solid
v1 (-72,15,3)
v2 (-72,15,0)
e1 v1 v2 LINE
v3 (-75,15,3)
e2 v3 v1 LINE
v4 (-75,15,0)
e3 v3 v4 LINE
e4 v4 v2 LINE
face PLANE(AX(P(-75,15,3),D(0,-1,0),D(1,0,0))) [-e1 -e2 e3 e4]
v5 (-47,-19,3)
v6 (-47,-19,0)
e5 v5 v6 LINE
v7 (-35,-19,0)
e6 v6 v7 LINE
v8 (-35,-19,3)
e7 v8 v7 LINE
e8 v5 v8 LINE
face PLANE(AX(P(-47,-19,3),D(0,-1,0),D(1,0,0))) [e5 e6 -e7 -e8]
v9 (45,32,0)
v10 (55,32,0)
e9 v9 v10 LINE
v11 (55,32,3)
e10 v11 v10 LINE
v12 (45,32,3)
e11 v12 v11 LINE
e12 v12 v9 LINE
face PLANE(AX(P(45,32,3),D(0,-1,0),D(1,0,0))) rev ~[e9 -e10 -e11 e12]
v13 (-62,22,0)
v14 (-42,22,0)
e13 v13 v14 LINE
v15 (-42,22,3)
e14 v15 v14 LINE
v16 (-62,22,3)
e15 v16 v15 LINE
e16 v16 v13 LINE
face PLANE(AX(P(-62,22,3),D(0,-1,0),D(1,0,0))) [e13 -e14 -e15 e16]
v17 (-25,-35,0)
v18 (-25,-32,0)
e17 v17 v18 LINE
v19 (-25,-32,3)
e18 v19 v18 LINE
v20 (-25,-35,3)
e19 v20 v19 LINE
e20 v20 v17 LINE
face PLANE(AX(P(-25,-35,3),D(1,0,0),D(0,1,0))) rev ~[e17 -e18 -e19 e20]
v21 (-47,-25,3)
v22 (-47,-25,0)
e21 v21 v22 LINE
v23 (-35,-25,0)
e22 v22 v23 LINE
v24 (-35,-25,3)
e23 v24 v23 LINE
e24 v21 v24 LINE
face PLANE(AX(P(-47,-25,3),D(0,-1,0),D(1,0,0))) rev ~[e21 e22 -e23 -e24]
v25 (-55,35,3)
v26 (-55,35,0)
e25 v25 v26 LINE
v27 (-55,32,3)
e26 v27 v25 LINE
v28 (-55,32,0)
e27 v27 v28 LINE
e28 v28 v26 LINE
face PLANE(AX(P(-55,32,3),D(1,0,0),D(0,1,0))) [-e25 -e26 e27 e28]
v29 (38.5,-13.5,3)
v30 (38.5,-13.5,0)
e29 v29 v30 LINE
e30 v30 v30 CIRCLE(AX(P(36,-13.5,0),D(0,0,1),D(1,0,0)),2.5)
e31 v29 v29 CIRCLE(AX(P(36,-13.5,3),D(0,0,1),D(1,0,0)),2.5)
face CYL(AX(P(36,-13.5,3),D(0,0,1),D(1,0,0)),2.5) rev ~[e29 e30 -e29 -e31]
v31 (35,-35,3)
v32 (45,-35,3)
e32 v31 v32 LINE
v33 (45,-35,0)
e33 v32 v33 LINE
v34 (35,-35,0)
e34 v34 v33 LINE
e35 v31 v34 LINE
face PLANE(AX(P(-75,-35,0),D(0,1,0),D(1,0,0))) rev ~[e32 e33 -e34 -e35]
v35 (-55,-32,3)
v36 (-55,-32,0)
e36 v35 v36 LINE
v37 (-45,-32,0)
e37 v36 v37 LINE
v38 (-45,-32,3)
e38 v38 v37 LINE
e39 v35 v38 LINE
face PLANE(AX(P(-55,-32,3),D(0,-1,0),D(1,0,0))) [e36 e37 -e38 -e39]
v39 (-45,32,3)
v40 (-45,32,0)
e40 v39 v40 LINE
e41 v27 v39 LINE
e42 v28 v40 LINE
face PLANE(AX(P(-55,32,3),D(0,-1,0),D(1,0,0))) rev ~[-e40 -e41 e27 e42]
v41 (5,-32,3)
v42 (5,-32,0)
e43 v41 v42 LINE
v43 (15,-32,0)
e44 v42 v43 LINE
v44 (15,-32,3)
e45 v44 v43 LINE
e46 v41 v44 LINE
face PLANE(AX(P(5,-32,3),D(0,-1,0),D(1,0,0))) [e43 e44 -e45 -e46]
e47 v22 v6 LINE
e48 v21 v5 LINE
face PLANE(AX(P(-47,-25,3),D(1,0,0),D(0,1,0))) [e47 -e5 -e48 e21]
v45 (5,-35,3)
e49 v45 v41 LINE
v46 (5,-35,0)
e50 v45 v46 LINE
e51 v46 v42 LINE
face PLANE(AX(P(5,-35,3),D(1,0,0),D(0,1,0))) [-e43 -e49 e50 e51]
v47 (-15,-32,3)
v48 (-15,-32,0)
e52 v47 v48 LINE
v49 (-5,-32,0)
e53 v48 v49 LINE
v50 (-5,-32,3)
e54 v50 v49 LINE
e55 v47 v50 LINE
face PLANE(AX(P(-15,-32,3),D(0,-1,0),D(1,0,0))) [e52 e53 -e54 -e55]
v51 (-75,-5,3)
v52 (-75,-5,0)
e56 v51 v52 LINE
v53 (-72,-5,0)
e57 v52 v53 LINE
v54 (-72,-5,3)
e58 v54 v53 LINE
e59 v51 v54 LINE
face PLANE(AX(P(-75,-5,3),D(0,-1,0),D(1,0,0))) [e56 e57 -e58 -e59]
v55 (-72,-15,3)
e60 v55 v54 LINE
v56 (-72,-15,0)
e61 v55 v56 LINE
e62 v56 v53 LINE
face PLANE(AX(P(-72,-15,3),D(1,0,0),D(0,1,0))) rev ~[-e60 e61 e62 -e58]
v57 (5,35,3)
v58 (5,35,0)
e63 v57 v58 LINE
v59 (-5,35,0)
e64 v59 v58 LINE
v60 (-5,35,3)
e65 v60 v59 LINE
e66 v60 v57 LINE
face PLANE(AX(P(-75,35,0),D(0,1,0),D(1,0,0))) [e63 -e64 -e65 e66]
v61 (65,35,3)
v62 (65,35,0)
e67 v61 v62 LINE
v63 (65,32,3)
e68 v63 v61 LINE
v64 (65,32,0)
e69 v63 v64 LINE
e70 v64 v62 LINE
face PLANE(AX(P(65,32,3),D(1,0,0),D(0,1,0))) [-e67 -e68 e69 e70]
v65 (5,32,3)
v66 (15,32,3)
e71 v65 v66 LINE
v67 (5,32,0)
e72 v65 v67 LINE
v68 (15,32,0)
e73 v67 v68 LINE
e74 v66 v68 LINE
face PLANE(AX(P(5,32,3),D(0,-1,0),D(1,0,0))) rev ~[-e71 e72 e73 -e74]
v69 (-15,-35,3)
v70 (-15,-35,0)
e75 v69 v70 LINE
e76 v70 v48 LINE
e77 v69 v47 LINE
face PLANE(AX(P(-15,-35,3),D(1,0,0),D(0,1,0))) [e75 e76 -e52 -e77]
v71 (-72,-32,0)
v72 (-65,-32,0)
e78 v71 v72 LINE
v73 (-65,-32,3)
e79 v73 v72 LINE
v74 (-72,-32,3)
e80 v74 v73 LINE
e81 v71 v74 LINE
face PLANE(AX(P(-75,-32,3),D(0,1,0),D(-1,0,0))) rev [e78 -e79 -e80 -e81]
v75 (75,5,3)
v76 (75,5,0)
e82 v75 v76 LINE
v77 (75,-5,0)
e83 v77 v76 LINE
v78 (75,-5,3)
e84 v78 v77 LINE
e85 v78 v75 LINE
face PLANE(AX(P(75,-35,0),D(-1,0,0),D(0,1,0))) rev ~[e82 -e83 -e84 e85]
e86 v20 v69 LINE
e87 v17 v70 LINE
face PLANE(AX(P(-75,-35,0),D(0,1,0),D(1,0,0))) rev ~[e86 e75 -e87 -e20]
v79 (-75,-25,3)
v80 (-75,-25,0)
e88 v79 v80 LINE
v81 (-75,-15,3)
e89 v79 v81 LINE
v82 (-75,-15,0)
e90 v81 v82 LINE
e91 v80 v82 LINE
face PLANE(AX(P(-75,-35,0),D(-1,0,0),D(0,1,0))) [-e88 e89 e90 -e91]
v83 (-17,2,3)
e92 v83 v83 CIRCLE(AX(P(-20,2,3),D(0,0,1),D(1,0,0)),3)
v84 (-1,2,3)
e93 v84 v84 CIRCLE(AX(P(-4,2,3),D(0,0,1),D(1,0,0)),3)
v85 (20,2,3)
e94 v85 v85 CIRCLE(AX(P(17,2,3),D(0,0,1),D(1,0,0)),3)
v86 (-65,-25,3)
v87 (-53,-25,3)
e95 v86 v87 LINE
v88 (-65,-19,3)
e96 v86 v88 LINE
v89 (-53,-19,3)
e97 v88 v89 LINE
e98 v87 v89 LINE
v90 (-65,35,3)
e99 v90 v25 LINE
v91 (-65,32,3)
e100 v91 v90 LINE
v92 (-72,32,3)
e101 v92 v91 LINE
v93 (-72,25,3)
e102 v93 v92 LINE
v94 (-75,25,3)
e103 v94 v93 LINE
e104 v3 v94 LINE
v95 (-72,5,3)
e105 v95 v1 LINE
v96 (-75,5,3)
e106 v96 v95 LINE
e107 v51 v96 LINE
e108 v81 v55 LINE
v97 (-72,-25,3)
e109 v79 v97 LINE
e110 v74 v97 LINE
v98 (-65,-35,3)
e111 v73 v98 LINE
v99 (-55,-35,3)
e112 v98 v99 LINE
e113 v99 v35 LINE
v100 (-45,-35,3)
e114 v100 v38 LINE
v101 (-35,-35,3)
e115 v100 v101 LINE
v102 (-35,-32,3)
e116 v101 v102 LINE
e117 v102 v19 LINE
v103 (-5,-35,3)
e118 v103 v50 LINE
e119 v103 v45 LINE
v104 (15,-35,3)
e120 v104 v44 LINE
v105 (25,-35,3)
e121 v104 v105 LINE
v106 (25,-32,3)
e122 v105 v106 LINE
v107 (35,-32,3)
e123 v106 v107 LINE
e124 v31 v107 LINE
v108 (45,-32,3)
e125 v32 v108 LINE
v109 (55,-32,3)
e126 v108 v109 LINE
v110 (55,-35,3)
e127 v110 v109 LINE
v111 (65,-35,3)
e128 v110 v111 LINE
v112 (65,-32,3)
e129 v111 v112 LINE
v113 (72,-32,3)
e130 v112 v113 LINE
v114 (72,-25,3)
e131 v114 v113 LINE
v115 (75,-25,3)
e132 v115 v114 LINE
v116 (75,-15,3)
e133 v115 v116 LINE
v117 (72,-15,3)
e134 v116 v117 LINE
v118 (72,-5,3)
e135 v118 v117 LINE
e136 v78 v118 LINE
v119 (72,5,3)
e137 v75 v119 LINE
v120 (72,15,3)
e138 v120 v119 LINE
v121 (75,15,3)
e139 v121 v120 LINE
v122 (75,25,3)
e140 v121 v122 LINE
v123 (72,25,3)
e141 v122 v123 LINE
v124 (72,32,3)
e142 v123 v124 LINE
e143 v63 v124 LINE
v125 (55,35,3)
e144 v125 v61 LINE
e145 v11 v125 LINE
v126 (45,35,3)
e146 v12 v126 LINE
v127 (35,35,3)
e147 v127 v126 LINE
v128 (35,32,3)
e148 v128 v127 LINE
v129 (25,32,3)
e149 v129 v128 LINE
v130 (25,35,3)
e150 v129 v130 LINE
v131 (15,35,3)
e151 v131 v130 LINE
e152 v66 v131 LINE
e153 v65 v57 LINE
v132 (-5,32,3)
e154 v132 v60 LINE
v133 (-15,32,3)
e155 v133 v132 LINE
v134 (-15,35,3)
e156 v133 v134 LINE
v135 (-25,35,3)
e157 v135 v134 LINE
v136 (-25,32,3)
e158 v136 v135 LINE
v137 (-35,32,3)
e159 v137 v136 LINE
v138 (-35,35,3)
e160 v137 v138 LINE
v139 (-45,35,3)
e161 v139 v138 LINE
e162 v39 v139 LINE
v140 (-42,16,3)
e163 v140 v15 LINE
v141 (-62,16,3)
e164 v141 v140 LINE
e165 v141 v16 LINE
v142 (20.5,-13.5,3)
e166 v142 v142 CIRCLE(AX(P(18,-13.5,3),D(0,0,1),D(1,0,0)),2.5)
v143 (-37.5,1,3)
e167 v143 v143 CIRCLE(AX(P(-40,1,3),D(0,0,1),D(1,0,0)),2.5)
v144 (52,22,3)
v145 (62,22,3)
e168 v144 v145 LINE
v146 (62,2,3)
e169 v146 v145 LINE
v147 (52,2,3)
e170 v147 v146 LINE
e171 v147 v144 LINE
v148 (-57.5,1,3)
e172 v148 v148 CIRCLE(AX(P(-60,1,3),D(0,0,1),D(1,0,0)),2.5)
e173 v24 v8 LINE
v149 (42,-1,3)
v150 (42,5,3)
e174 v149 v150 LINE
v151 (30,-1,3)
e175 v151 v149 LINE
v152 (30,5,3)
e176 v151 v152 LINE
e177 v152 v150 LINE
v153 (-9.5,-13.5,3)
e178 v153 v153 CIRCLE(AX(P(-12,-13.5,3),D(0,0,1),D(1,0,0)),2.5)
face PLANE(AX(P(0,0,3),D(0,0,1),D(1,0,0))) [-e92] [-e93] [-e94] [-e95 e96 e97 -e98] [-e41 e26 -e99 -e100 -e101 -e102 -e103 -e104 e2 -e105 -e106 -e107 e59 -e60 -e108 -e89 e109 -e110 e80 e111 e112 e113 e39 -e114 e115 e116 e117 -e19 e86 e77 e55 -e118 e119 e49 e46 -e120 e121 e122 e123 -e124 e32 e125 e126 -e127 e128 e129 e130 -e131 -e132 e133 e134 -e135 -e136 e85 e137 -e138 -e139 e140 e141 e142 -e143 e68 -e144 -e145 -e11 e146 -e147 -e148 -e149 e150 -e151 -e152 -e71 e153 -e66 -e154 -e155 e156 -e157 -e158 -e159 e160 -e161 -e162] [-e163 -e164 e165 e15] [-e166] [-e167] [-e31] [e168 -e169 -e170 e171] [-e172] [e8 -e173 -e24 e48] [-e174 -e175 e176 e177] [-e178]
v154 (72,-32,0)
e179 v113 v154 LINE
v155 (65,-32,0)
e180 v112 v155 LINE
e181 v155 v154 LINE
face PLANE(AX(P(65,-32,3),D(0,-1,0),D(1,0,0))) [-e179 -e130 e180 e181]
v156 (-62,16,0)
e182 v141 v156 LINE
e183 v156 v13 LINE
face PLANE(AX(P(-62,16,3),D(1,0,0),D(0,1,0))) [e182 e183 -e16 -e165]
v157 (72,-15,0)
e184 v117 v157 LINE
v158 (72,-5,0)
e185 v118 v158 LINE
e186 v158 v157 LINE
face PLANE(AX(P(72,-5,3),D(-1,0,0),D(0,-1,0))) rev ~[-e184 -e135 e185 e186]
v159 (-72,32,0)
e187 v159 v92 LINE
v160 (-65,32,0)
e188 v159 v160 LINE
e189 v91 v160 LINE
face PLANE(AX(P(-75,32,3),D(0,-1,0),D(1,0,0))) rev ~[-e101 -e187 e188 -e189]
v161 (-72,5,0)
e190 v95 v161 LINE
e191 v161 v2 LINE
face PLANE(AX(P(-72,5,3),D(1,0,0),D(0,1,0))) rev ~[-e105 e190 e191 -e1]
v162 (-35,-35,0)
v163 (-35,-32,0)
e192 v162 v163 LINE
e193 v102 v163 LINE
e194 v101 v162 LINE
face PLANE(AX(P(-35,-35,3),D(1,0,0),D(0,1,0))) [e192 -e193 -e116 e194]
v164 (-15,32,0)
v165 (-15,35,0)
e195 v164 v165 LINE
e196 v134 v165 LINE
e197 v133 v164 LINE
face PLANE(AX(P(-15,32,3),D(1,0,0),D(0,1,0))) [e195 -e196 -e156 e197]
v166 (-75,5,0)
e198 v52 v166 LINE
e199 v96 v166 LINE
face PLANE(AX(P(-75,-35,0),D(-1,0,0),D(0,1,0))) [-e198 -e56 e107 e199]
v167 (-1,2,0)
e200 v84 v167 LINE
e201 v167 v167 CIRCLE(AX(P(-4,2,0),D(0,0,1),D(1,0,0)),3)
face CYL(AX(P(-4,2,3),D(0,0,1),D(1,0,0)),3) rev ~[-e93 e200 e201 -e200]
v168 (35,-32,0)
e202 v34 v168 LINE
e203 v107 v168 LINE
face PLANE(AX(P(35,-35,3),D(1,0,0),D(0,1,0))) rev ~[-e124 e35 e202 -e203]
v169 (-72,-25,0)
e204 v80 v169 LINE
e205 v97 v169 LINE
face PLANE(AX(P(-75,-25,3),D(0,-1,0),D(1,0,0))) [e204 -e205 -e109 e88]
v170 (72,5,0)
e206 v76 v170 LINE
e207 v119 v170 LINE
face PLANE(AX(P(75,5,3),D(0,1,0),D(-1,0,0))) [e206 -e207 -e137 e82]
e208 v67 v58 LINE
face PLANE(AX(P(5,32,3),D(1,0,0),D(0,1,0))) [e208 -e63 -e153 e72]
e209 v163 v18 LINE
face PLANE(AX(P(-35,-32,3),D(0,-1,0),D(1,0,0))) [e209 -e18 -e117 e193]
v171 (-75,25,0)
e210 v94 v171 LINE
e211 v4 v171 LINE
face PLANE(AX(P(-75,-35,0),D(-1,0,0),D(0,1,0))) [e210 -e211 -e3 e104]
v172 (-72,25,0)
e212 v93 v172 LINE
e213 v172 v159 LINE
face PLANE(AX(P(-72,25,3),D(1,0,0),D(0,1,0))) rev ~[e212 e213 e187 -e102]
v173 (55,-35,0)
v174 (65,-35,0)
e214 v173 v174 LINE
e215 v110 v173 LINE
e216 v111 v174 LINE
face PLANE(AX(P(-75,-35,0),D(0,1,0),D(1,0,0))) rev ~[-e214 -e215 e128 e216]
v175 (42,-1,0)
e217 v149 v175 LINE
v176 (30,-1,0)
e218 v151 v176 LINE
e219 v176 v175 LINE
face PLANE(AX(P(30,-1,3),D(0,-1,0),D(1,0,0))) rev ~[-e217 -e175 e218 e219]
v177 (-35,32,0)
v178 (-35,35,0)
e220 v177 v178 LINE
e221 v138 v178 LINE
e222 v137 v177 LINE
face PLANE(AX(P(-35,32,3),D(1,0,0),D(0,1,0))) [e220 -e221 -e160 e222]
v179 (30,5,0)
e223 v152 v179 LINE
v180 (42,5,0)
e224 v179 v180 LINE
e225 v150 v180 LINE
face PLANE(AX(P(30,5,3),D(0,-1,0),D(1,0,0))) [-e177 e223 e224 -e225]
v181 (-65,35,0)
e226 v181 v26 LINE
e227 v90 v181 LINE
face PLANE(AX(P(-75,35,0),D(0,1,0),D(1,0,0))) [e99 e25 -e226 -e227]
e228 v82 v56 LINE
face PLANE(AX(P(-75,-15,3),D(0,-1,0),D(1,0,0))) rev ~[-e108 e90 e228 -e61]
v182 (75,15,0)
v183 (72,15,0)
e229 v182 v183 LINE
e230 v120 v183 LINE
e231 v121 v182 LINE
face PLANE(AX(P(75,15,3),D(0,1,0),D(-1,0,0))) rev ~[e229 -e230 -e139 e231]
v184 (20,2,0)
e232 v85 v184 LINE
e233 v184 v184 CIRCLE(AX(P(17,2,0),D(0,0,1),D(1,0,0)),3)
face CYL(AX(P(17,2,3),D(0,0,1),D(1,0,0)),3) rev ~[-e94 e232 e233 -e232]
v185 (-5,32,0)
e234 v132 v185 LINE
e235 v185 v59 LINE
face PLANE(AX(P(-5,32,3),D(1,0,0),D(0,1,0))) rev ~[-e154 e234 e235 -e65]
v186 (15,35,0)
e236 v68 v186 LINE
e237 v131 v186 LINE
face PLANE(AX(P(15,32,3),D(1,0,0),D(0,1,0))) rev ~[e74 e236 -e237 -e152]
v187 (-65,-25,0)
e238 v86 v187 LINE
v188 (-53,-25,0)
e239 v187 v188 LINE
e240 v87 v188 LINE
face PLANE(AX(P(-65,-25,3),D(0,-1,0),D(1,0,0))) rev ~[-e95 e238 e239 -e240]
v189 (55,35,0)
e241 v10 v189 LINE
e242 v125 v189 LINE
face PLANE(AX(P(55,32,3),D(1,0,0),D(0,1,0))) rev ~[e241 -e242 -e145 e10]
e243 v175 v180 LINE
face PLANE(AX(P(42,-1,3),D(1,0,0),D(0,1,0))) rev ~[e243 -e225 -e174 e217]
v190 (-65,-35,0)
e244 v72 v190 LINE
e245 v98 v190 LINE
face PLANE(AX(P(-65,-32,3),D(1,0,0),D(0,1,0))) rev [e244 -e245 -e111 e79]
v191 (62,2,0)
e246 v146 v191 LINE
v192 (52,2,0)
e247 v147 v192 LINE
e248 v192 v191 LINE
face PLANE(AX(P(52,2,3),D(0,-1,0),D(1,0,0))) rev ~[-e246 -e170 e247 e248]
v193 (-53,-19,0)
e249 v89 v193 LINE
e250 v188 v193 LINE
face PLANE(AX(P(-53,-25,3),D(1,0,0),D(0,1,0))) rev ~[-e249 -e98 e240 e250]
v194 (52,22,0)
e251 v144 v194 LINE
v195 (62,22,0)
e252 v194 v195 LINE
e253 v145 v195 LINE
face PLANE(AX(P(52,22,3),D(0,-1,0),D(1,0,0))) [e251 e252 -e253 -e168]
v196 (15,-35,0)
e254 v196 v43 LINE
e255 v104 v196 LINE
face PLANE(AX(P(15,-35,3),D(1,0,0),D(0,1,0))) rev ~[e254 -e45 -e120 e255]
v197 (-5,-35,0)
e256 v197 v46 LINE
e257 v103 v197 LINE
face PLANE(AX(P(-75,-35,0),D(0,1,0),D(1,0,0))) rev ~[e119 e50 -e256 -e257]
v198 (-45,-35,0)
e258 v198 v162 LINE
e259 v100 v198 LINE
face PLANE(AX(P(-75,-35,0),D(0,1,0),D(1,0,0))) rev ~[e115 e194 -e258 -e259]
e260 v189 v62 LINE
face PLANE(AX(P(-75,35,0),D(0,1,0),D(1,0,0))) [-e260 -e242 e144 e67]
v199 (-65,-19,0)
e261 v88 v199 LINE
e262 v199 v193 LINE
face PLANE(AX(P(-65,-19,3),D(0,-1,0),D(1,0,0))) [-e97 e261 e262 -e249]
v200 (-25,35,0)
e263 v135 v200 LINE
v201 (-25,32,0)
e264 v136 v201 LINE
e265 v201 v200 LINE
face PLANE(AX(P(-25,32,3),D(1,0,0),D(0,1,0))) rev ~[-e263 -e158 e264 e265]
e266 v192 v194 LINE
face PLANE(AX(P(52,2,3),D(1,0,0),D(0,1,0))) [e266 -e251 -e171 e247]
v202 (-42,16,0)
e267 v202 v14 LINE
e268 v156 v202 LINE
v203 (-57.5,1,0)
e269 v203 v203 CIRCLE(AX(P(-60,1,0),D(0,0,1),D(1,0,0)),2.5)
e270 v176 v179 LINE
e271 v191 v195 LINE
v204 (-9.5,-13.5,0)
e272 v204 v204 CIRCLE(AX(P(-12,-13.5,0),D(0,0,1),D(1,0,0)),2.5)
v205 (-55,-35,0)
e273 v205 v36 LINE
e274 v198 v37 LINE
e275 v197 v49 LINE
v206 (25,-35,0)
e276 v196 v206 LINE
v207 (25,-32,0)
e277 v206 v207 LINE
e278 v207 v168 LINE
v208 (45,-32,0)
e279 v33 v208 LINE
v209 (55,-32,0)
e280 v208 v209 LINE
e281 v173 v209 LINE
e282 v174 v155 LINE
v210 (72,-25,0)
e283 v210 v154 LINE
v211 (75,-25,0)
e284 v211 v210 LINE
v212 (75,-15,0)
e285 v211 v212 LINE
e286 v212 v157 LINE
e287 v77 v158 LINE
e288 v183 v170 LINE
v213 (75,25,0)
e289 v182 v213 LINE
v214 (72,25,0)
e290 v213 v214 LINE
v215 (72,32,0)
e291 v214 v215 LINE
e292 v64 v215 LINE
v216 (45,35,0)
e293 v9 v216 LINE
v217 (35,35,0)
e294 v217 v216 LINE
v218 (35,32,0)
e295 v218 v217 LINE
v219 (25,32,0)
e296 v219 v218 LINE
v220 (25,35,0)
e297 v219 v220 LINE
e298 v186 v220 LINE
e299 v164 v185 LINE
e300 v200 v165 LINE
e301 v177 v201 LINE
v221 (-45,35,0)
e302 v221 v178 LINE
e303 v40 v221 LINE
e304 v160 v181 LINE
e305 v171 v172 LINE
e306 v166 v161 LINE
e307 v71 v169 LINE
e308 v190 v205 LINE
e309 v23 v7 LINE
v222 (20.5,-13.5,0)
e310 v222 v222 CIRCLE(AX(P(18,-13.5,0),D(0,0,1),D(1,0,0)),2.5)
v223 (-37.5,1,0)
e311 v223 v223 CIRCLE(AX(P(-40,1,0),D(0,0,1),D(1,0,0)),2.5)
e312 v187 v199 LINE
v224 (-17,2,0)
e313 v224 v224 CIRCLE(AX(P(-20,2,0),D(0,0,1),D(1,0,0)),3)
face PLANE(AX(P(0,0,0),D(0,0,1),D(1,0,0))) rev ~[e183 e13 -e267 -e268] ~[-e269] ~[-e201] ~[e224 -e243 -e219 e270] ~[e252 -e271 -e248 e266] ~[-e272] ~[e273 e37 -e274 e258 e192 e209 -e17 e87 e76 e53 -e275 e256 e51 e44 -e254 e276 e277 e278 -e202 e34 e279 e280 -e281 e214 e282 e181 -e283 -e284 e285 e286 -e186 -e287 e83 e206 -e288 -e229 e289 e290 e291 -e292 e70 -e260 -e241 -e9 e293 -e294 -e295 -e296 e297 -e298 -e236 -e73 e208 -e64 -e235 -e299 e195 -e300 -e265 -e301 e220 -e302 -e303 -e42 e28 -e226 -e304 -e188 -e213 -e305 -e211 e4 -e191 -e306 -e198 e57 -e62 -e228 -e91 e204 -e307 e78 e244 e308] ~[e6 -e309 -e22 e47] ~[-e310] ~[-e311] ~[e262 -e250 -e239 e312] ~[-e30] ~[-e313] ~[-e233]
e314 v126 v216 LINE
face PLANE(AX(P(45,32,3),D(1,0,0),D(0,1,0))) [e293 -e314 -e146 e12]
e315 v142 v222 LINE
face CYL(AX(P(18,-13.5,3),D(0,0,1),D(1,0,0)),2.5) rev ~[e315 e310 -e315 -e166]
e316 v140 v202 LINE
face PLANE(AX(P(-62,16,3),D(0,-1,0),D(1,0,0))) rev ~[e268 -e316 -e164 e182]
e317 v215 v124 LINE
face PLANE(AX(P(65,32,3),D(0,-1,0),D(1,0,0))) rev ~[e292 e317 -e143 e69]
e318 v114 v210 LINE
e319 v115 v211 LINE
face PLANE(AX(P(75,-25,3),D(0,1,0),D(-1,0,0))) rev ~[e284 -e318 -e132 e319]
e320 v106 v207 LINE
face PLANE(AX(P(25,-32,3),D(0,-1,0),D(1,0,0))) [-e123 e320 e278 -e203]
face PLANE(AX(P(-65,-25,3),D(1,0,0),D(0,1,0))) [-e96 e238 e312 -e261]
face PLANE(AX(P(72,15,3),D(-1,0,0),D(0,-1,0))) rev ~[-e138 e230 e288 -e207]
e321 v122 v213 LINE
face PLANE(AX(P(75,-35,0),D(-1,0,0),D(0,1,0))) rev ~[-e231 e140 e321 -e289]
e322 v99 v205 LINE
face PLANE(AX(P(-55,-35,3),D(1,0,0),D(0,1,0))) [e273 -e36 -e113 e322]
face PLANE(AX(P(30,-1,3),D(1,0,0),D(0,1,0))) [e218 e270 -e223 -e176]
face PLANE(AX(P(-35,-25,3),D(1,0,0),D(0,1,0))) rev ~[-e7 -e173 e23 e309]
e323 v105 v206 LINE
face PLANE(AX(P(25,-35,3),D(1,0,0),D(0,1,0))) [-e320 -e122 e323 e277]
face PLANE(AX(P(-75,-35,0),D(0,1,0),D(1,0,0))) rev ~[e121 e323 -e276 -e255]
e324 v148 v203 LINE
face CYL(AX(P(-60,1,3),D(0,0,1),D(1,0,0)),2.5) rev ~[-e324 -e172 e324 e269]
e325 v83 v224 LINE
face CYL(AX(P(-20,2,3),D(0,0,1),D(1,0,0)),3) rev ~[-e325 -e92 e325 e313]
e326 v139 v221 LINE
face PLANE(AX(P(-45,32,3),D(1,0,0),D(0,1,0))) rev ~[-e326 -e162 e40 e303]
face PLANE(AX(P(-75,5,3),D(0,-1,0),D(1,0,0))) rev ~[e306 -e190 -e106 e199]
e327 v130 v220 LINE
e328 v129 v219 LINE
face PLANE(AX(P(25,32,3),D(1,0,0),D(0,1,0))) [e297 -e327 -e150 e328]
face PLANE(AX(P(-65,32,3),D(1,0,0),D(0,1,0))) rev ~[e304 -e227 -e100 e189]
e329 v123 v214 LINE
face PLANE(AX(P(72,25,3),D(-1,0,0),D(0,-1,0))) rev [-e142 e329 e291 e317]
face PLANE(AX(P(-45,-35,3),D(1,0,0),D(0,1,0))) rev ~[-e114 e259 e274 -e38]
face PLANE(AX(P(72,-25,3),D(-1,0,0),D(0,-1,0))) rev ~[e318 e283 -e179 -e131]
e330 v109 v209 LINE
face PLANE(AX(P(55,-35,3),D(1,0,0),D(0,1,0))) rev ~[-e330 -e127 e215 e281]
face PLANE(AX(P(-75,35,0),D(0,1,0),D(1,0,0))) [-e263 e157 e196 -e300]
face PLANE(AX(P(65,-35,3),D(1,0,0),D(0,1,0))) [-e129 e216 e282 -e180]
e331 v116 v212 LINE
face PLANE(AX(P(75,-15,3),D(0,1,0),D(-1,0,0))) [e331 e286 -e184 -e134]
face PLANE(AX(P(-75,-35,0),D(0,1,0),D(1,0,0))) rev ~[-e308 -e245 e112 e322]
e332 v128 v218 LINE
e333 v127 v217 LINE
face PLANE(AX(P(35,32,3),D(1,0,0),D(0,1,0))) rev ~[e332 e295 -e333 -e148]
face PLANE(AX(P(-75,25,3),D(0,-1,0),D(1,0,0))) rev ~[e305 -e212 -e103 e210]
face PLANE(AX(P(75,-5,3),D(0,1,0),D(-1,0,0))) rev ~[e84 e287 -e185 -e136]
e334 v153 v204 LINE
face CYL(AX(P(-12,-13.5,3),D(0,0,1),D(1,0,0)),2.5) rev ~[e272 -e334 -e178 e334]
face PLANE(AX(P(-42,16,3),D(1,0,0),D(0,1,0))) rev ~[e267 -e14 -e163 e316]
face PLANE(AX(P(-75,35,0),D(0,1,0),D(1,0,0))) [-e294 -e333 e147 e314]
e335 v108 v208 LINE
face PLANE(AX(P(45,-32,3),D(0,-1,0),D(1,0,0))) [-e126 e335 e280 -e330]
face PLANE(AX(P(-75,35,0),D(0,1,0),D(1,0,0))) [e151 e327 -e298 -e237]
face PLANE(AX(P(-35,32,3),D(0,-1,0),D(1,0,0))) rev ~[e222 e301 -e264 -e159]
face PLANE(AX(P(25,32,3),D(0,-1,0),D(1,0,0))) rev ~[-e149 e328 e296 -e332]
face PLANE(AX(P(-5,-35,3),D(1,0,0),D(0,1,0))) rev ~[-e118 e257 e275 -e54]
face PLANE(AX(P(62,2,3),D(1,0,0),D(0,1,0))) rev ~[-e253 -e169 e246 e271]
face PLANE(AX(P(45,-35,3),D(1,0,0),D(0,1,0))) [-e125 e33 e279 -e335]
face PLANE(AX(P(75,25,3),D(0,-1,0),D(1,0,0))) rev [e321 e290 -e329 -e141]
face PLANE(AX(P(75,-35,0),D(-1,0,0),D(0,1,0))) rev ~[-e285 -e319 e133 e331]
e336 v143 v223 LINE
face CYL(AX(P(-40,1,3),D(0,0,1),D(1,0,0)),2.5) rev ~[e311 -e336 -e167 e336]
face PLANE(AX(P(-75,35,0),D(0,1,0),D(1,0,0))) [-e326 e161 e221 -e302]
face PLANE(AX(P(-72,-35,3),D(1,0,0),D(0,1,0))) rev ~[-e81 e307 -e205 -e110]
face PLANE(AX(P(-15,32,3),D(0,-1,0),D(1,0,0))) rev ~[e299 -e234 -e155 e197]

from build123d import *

# Parameters (mm, degrees)
SKETCH1_W               = 150
SKETCH1_H               = 70
BOSS_EXTRUDE1_DEPTH     = 3
SKETCH2_W               = 10
SKETCH2_H               = 3
CUT_EXTRUDE1_DEPTH      = 3
LPATTERN3_COUNT         = 8
LPATTERN3_PITCH         = 20
MIRROR1_COPY_1_SKETCH_W = 10
MIRROR1_COPY_1_SKETCH_H = 3
MIRROR1_COPY_1_DEPTH    = 3
MIRROR1_COPY_2_SKETCH_W = 10
MIRROR1_COPY_2_SKETCH_H = 3
MIRROR1_COPY_2_DEPTH    = 3
MIRROR1_COPY_3_SKETCH_W = 10
MIRROR1_COPY_3_SKETCH_H = 3
MIRROR1_COPY_3_DEPTH    = 3
MIRROR1_COPY_4_SKETCH_W = 10
MIRROR1_COPY_4_SKETCH_H = 3
MIRROR1_COPY_4_DEPTH    = 3
MIRROR1_COPY_5_SKETCH_W = 10
MIRROR1_COPY_5_SKETCH_H = 3
MIRROR1_COPY_5_DEPTH    = 3
MIRROR1_COPY_6_SKETCH_W = 10
MIRROR1_COPY_6_SKETCH_H = 3
MIRROR1_COPY_6_DEPTH    = 3
MIRROR1_COPY_7_SKETCH_W = 10
MIRROR1_COPY_7_SKETCH_H = 3
MIRROR1_COPY_7_DEPTH    = 3
SKETCH3_W               = 3
SKETCH3_H               = 10
CUT_EXTRUDE2_DEPTH      = 3
LPATTERN4_COUNT         = 4
LPATTERN4_PITCH         = 20
MIRROR2_COPY_1_SKETCH_W = 3
MIRROR2_COPY_1_SKETCH_H = 10
MIRROR2_COPY_1_DEPTH    = 3
MIRROR2_COPY_2_SKETCH_W = 3
MIRROR2_COPY_2_SKETCH_H = 10
MIRROR2_COPY_2_DEPTH    = 3
MIRROR2_COPY_3_SKETCH_W = 3
MIRROR2_COPY_3_SKETCH_H = 10
MIRROR2_COPY_3_DEPTH    = 3
SKETCH4_W               = 20
SKETCH4_H               = 6
CUT_EXTRUDE3_DEPTH      = 3
SKETCH5_R               = 2.5
CUT_EXTRUDE5_DEPTH      = 3
SKETCH6_W               = 12
SKETCH6_H               = 6
CUT_EXTRUDE6_DEPTH      = 3
SKETCH7_R               = 3
CUT_EXTRUDE7_DEPTH      = 3
SKETCH8_R               = 2.5
CUT_EXTRUDE8_DEPTH      = 3
SKETCH9_R               = 3
CUT_EXTRUDE9_DEPTH      = 3
SKETCH10_W              = 12
SKETCH10_H              = 6
CUT_EXTRUDE10_DEPTH     = 3
SKETCH11_R              = 2.5
CUT_EXTRUDE11_DEPTH     = 3
SKETCH12_W              = 10
SKETCH12_H              = 20
CUT_EXTRUDE12_DEPTH     = 3


with BuildPart() as part:
    # Sketch1 → Boss-Extrude1 (new body)
    with BuildSketch(Plane.XY):
        Rectangle(SKETCH1_W, SKETCH1_H)
    extrude(amount=BOSS_EXTRUDE1_DEPTH)

    # Sketch2 → Cut-Extrude1 (cut)
    with BuildSketch(Plane.XY.offset(3)):
        with Locations((-70, 33.5)):
            Rectangle(SKETCH2_W, SKETCH2_H)
    cut_extrude1 = extrude(amount=-CUT_EXTRUDE1_DEPTH, mode=Mode.SUBTRACT)

    # LPattern3: Cut-Extrude1 ×8
    with Locations(*[(i * LPATTERN3_PITCH, 0, 0) for i in range(1, LPATTERN3_COUNT)]):
        add(cut_extrude1, mode=Mode.SUBTRACT)

    # Mirror1: Cut-Extrude1 across plane
    add(cut_extrude1.mirror(Plane.ZX), mode=Mode.SUBTRACT)

    # Mirror1 copy 1 sketch → Mirror1 copy 1 (cut)
    with BuildSketch(Plane(origin=(20, 0, 3), x_dir=(1, 0, 0), z_dir=(0, 0, 1))):
        with Locations((-70, -33.5)):
            Rectangle(MIRROR1_COPY_1_SKETCH_W, MIRROR1_COPY_1_SKETCH_H)
    extrude(amount=-MIRROR1_COPY_1_DEPTH, mode=Mode.SUBTRACT)

    # Mirror1 copy 2 sketch → Mirror1 copy 2 (cut)
    with BuildSketch(Plane(origin=(40, 0, 3), x_dir=(1, 0, 0), z_dir=(0, 0, 1))):
        with Locations((-70, -33.5)):
            Rectangle(MIRROR1_COPY_2_SKETCH_W, MIRROR1_COPY_2_SKETCH_H)
    extrude(amount=-MIRROR1_COPY_2_DEPTH, mode=Mode.SUBTRACT)

    # Mirror1 copy 3 sketch → Mirror1 copy 3 (cut)
    with BuildSketch(Plane(origin=(60, 0, 3), x_dir=(1, 0, 0), z_dir=(0, 0, 1))):
        with Locations((-70, -33.5)):
            Rectangle(MIRROR1_COPY_3_SKETCH_W, MIRROR1_COPY_3_SKETCH_H)
    extrude(amount=-MIRROR1_COPY_3_DEPTH, mode=Mode.SUBTRACT)

    # Mirror1 copy 4 sketch → Mirror1 copy 4 (cut)
    with BuildSketch(Plane(origin=(80, 0, 3), x_dir=(1, 0, 0), z_dir=(0, 0, 1))):
        with Locations((-70, -33.5)):
            Rectangle(MIRROR1_COPY_4_SKETCH_W, MIRROR1_COPY_4_SKETCH_H)
    extrude(amount=-MIRROR1_COPY_4_DEPTH, mode=Mode.SUBTRACT)

    # Mirror1 copy 5 sketch → Mirror1 copy 5 (cut)
    with BuildSketch(Plane(origin=(100, 0, 3), x_dir=(1, 0, 0), z_dir=(0, 0, 1))):
        with Locations((-70, -33.5)):
            Rectangle(MIRROR1_COPY_5_SKETCH_W, MIRROR1_COPY_5_SKETCH_H)
    extrude(amount=-MIRROR1_COPY_5_DEPTH, mode=Mode.SUBTRACT)

    # Mirror1 copy 6 sketch → Mirror1 copy 6 (cut)
    with BuildSketch(Plane(origin=(120, 0, 3), x_dir=(1, 0, 0), z_dir=(0, 0, 1))):
        with Locations((-70, -33.5)):
            Rectangle(MIRROR1_COPY_6_SKETCH_W, MIRROR1_COPY_6_SKETCH_H)
    extrude(amount=-MIRROR1_COPY_6_DEPTH, mode=Mode.SUBTRACT)

    # Mirror1 copy 7 sketch → Mirror1 copy 7 (cut)
    with BuildSketch(Plane(origin=(140, 0, 3), x_dir=(1, 0, 0), z_dir=(0, 0, 1))):
        with Locations((-70, -33.5)):
            Rectangle(MIRROR1_COPY_7_SKETCH_W, MIRROR1_COPY_7_SKETCH_H)
    extrude(amount=-MIRROR1_COPY_7_DEPTH, mode=Mode.SUBTRACT)

    # Sketch3 → Cut-Extrude2 (cut)
    with BuildSketch(Plane.XY.offset(3)):
        with Locations((-73.5, 30)):
            Rectangle(SKETCH3_W, SKETCH3_H)
    cut_extrude2 = extrude(amount=-CUT_EXTRUDE2_DEPTH, mode=Mode.SUBTRACT)

    # LPattern4: Cut-Extrude2 ×4
    with Locations(*[(0, -i * LPATTERN4_PITCH, 0) for i in range(1, LPATTERN4_COUNT)]):
        add(cut_extrude2, mode=Mode.SUBTRACT)

    # Mirror2: Cut-Extrude2 across plane
    add(cut_extrude2.mirror(Plane(origin=(0, 0, 0), x_dir=(0, 0, 1), z_dir=(1, 0, 0))), mode=Mode.SUBTRACT)

    # Mirror2 copy 1 sketch → Mirror2 copy 1 (cut)
    with BuildSketch(Plane(origin=(0, -20, 3), x_dir=(-1, 0, 0), z_dir=(0, 0, 1))):
        with Locations((-73.5, -30)):
            Rectangle(MIRROR2_COPY_1_SKETCH_W, MIRROR2_COPY_1_SKETCH_H)
    extrude(amount=-MIRROR2_COPY_1_DEPTH, mode=Mode.SUBTRACT)

    # Mirror2 copy 2 sketch → Mirror2 copy 2 (cut)
    with BuildSketch(Plane(origin=(0, -40, 3), x_dir=(-1, 0, 0), z_dir=(0, 0, 1))):
        with Locations((-73.5, -30)):
            Rectangle(MIRROR2_COPY_2_SKETCH_W, MIRROR2_COPY_2_SKETCH_H)
    extrude(amount=-MIRROR2_COPY_2_DEPTH, mode=Mode.SUBTRACT)

    # Mirror2 copy 3 sketch → Mirror2 copy 3 (cut)
    with BuildSketch(Plane(origin=(0, -60, 3), x_dir=(-1, 0, 0), z_dir=(0, 0, 1))):
        with Locations((-73.5, -30)):
            Rectangle(MIRROR2_COPY_3_SKETCH_W, MIRROR2_COPY_3_SKETCH_H)
    extrude(amount=-MIRROR2_COPY_3_DEPTH, mode=Mode.SUBTRACT)

    # Sketch4 → Cut-Extrude3 (cut)
    with BuildSketch(Plane.XY.offset(3)):
        with Locations((-52, 19)):
            Rectangle(SKETCH4_W, SKETCH4_H)
    extrude(amount=-CUT_EXTRUDE3_DEPTH, mode=Mode.SUBTRACT)

    # Sketch5 → Cut-Extrude5 (cut)
    with BuildSketch(Plane.XY.offset(3)):
        with Locations((-60, 1)):
            Circle(SKETCH5_R)
        with Locations((-40, 1)):
            Circle(SKETCH5_R)
    extrude(amount=-CUT_EXTRUDE5_DEPTH, mode=Mode.SUBTRACT)

    # Sketch6 → Cut-Extrude6 (cut)
    with BuildSketch(Plane.XY.offset(3)):
        with Locations((-59, -22)):
            Rectangle(SKETCH6_W, SKETCH6_H)
        with Locations((-41, -22)):
            Rectangle(SKETCH6_W, SKETCH6_H)
    extrude(amount=-CUT_EXTRUDE6_DEPTH, mode=Mode.SUBTRACT)

    # Sketch7 → Cut-Extrude7 (cut)
    with BuildSketch(Plane.XY.offset(3)):
        with Locations((-20, 2)):
            Circle(SKETCH7_R)
        with Locations((-4, 2)):
            Circle(SKETCH7_R)
    extrude(amount=-CUT_EXTRUDE7_DEPTH, mode=Mode.SUBTRACT)

    # Sketch8 → Cut-Extrude8 (cut)
    with BuildSketch(Plane.XY.offset(3)):
        with Locations((-12, -13.5)):
            Circle(SKETCH8_R)
    extrude(amount=-CUT_EXTRUDE8_DEPTH, mode=Mode.SUBTRACT)

    # Sketch9 → Cut-Extrude9 (cut)
    with BuildSketch(Plane.XY.offset(3)):
        with Locations((17, 2)):
            Circle(SKETCH9_R)
    extrude(amount=-CUT_EXTRUDE9_DEPTH, mode=Mode.SUBTRACT)

    # Sketch10 → Cut-Extrude10 (cut)
    with BuildSketch(Plane.XY.offset(3)):
        with Locations((36, 2)):
            Rectangle(SKETCH10_W, SKETCH10_H)
    extrude(amount=-CUT_EXTRUDE10_DEPTH, mode=Mode.SUBTRACT)

    # Sketch11 → Cut-Extrude11 (cut)
    with BuildSketch(Plane.XY.offset(3)):
        with Locations((18, -13.5)):
            Circle(SKETCH11_R)
        with Locations((36, -13.5)):
            Circle(SKETCH11_R)
    extrude(amount=-CUT_EXTRUDE11_DEPTH, mode=Mode.SUBTRACT)

    # Sketch12 → Cut-Extrude12 (cut)
    with BuildSketch(Plane.XY.offset(3)):
        with Locations((57, 12)):
            Rectangle(SKETCH12_W, SKETCH12_H)
    extrude(amount=-CUT_EXTRUDE12_DEPTH, mode=Mode.SUBTRACT)


solid = part.part
